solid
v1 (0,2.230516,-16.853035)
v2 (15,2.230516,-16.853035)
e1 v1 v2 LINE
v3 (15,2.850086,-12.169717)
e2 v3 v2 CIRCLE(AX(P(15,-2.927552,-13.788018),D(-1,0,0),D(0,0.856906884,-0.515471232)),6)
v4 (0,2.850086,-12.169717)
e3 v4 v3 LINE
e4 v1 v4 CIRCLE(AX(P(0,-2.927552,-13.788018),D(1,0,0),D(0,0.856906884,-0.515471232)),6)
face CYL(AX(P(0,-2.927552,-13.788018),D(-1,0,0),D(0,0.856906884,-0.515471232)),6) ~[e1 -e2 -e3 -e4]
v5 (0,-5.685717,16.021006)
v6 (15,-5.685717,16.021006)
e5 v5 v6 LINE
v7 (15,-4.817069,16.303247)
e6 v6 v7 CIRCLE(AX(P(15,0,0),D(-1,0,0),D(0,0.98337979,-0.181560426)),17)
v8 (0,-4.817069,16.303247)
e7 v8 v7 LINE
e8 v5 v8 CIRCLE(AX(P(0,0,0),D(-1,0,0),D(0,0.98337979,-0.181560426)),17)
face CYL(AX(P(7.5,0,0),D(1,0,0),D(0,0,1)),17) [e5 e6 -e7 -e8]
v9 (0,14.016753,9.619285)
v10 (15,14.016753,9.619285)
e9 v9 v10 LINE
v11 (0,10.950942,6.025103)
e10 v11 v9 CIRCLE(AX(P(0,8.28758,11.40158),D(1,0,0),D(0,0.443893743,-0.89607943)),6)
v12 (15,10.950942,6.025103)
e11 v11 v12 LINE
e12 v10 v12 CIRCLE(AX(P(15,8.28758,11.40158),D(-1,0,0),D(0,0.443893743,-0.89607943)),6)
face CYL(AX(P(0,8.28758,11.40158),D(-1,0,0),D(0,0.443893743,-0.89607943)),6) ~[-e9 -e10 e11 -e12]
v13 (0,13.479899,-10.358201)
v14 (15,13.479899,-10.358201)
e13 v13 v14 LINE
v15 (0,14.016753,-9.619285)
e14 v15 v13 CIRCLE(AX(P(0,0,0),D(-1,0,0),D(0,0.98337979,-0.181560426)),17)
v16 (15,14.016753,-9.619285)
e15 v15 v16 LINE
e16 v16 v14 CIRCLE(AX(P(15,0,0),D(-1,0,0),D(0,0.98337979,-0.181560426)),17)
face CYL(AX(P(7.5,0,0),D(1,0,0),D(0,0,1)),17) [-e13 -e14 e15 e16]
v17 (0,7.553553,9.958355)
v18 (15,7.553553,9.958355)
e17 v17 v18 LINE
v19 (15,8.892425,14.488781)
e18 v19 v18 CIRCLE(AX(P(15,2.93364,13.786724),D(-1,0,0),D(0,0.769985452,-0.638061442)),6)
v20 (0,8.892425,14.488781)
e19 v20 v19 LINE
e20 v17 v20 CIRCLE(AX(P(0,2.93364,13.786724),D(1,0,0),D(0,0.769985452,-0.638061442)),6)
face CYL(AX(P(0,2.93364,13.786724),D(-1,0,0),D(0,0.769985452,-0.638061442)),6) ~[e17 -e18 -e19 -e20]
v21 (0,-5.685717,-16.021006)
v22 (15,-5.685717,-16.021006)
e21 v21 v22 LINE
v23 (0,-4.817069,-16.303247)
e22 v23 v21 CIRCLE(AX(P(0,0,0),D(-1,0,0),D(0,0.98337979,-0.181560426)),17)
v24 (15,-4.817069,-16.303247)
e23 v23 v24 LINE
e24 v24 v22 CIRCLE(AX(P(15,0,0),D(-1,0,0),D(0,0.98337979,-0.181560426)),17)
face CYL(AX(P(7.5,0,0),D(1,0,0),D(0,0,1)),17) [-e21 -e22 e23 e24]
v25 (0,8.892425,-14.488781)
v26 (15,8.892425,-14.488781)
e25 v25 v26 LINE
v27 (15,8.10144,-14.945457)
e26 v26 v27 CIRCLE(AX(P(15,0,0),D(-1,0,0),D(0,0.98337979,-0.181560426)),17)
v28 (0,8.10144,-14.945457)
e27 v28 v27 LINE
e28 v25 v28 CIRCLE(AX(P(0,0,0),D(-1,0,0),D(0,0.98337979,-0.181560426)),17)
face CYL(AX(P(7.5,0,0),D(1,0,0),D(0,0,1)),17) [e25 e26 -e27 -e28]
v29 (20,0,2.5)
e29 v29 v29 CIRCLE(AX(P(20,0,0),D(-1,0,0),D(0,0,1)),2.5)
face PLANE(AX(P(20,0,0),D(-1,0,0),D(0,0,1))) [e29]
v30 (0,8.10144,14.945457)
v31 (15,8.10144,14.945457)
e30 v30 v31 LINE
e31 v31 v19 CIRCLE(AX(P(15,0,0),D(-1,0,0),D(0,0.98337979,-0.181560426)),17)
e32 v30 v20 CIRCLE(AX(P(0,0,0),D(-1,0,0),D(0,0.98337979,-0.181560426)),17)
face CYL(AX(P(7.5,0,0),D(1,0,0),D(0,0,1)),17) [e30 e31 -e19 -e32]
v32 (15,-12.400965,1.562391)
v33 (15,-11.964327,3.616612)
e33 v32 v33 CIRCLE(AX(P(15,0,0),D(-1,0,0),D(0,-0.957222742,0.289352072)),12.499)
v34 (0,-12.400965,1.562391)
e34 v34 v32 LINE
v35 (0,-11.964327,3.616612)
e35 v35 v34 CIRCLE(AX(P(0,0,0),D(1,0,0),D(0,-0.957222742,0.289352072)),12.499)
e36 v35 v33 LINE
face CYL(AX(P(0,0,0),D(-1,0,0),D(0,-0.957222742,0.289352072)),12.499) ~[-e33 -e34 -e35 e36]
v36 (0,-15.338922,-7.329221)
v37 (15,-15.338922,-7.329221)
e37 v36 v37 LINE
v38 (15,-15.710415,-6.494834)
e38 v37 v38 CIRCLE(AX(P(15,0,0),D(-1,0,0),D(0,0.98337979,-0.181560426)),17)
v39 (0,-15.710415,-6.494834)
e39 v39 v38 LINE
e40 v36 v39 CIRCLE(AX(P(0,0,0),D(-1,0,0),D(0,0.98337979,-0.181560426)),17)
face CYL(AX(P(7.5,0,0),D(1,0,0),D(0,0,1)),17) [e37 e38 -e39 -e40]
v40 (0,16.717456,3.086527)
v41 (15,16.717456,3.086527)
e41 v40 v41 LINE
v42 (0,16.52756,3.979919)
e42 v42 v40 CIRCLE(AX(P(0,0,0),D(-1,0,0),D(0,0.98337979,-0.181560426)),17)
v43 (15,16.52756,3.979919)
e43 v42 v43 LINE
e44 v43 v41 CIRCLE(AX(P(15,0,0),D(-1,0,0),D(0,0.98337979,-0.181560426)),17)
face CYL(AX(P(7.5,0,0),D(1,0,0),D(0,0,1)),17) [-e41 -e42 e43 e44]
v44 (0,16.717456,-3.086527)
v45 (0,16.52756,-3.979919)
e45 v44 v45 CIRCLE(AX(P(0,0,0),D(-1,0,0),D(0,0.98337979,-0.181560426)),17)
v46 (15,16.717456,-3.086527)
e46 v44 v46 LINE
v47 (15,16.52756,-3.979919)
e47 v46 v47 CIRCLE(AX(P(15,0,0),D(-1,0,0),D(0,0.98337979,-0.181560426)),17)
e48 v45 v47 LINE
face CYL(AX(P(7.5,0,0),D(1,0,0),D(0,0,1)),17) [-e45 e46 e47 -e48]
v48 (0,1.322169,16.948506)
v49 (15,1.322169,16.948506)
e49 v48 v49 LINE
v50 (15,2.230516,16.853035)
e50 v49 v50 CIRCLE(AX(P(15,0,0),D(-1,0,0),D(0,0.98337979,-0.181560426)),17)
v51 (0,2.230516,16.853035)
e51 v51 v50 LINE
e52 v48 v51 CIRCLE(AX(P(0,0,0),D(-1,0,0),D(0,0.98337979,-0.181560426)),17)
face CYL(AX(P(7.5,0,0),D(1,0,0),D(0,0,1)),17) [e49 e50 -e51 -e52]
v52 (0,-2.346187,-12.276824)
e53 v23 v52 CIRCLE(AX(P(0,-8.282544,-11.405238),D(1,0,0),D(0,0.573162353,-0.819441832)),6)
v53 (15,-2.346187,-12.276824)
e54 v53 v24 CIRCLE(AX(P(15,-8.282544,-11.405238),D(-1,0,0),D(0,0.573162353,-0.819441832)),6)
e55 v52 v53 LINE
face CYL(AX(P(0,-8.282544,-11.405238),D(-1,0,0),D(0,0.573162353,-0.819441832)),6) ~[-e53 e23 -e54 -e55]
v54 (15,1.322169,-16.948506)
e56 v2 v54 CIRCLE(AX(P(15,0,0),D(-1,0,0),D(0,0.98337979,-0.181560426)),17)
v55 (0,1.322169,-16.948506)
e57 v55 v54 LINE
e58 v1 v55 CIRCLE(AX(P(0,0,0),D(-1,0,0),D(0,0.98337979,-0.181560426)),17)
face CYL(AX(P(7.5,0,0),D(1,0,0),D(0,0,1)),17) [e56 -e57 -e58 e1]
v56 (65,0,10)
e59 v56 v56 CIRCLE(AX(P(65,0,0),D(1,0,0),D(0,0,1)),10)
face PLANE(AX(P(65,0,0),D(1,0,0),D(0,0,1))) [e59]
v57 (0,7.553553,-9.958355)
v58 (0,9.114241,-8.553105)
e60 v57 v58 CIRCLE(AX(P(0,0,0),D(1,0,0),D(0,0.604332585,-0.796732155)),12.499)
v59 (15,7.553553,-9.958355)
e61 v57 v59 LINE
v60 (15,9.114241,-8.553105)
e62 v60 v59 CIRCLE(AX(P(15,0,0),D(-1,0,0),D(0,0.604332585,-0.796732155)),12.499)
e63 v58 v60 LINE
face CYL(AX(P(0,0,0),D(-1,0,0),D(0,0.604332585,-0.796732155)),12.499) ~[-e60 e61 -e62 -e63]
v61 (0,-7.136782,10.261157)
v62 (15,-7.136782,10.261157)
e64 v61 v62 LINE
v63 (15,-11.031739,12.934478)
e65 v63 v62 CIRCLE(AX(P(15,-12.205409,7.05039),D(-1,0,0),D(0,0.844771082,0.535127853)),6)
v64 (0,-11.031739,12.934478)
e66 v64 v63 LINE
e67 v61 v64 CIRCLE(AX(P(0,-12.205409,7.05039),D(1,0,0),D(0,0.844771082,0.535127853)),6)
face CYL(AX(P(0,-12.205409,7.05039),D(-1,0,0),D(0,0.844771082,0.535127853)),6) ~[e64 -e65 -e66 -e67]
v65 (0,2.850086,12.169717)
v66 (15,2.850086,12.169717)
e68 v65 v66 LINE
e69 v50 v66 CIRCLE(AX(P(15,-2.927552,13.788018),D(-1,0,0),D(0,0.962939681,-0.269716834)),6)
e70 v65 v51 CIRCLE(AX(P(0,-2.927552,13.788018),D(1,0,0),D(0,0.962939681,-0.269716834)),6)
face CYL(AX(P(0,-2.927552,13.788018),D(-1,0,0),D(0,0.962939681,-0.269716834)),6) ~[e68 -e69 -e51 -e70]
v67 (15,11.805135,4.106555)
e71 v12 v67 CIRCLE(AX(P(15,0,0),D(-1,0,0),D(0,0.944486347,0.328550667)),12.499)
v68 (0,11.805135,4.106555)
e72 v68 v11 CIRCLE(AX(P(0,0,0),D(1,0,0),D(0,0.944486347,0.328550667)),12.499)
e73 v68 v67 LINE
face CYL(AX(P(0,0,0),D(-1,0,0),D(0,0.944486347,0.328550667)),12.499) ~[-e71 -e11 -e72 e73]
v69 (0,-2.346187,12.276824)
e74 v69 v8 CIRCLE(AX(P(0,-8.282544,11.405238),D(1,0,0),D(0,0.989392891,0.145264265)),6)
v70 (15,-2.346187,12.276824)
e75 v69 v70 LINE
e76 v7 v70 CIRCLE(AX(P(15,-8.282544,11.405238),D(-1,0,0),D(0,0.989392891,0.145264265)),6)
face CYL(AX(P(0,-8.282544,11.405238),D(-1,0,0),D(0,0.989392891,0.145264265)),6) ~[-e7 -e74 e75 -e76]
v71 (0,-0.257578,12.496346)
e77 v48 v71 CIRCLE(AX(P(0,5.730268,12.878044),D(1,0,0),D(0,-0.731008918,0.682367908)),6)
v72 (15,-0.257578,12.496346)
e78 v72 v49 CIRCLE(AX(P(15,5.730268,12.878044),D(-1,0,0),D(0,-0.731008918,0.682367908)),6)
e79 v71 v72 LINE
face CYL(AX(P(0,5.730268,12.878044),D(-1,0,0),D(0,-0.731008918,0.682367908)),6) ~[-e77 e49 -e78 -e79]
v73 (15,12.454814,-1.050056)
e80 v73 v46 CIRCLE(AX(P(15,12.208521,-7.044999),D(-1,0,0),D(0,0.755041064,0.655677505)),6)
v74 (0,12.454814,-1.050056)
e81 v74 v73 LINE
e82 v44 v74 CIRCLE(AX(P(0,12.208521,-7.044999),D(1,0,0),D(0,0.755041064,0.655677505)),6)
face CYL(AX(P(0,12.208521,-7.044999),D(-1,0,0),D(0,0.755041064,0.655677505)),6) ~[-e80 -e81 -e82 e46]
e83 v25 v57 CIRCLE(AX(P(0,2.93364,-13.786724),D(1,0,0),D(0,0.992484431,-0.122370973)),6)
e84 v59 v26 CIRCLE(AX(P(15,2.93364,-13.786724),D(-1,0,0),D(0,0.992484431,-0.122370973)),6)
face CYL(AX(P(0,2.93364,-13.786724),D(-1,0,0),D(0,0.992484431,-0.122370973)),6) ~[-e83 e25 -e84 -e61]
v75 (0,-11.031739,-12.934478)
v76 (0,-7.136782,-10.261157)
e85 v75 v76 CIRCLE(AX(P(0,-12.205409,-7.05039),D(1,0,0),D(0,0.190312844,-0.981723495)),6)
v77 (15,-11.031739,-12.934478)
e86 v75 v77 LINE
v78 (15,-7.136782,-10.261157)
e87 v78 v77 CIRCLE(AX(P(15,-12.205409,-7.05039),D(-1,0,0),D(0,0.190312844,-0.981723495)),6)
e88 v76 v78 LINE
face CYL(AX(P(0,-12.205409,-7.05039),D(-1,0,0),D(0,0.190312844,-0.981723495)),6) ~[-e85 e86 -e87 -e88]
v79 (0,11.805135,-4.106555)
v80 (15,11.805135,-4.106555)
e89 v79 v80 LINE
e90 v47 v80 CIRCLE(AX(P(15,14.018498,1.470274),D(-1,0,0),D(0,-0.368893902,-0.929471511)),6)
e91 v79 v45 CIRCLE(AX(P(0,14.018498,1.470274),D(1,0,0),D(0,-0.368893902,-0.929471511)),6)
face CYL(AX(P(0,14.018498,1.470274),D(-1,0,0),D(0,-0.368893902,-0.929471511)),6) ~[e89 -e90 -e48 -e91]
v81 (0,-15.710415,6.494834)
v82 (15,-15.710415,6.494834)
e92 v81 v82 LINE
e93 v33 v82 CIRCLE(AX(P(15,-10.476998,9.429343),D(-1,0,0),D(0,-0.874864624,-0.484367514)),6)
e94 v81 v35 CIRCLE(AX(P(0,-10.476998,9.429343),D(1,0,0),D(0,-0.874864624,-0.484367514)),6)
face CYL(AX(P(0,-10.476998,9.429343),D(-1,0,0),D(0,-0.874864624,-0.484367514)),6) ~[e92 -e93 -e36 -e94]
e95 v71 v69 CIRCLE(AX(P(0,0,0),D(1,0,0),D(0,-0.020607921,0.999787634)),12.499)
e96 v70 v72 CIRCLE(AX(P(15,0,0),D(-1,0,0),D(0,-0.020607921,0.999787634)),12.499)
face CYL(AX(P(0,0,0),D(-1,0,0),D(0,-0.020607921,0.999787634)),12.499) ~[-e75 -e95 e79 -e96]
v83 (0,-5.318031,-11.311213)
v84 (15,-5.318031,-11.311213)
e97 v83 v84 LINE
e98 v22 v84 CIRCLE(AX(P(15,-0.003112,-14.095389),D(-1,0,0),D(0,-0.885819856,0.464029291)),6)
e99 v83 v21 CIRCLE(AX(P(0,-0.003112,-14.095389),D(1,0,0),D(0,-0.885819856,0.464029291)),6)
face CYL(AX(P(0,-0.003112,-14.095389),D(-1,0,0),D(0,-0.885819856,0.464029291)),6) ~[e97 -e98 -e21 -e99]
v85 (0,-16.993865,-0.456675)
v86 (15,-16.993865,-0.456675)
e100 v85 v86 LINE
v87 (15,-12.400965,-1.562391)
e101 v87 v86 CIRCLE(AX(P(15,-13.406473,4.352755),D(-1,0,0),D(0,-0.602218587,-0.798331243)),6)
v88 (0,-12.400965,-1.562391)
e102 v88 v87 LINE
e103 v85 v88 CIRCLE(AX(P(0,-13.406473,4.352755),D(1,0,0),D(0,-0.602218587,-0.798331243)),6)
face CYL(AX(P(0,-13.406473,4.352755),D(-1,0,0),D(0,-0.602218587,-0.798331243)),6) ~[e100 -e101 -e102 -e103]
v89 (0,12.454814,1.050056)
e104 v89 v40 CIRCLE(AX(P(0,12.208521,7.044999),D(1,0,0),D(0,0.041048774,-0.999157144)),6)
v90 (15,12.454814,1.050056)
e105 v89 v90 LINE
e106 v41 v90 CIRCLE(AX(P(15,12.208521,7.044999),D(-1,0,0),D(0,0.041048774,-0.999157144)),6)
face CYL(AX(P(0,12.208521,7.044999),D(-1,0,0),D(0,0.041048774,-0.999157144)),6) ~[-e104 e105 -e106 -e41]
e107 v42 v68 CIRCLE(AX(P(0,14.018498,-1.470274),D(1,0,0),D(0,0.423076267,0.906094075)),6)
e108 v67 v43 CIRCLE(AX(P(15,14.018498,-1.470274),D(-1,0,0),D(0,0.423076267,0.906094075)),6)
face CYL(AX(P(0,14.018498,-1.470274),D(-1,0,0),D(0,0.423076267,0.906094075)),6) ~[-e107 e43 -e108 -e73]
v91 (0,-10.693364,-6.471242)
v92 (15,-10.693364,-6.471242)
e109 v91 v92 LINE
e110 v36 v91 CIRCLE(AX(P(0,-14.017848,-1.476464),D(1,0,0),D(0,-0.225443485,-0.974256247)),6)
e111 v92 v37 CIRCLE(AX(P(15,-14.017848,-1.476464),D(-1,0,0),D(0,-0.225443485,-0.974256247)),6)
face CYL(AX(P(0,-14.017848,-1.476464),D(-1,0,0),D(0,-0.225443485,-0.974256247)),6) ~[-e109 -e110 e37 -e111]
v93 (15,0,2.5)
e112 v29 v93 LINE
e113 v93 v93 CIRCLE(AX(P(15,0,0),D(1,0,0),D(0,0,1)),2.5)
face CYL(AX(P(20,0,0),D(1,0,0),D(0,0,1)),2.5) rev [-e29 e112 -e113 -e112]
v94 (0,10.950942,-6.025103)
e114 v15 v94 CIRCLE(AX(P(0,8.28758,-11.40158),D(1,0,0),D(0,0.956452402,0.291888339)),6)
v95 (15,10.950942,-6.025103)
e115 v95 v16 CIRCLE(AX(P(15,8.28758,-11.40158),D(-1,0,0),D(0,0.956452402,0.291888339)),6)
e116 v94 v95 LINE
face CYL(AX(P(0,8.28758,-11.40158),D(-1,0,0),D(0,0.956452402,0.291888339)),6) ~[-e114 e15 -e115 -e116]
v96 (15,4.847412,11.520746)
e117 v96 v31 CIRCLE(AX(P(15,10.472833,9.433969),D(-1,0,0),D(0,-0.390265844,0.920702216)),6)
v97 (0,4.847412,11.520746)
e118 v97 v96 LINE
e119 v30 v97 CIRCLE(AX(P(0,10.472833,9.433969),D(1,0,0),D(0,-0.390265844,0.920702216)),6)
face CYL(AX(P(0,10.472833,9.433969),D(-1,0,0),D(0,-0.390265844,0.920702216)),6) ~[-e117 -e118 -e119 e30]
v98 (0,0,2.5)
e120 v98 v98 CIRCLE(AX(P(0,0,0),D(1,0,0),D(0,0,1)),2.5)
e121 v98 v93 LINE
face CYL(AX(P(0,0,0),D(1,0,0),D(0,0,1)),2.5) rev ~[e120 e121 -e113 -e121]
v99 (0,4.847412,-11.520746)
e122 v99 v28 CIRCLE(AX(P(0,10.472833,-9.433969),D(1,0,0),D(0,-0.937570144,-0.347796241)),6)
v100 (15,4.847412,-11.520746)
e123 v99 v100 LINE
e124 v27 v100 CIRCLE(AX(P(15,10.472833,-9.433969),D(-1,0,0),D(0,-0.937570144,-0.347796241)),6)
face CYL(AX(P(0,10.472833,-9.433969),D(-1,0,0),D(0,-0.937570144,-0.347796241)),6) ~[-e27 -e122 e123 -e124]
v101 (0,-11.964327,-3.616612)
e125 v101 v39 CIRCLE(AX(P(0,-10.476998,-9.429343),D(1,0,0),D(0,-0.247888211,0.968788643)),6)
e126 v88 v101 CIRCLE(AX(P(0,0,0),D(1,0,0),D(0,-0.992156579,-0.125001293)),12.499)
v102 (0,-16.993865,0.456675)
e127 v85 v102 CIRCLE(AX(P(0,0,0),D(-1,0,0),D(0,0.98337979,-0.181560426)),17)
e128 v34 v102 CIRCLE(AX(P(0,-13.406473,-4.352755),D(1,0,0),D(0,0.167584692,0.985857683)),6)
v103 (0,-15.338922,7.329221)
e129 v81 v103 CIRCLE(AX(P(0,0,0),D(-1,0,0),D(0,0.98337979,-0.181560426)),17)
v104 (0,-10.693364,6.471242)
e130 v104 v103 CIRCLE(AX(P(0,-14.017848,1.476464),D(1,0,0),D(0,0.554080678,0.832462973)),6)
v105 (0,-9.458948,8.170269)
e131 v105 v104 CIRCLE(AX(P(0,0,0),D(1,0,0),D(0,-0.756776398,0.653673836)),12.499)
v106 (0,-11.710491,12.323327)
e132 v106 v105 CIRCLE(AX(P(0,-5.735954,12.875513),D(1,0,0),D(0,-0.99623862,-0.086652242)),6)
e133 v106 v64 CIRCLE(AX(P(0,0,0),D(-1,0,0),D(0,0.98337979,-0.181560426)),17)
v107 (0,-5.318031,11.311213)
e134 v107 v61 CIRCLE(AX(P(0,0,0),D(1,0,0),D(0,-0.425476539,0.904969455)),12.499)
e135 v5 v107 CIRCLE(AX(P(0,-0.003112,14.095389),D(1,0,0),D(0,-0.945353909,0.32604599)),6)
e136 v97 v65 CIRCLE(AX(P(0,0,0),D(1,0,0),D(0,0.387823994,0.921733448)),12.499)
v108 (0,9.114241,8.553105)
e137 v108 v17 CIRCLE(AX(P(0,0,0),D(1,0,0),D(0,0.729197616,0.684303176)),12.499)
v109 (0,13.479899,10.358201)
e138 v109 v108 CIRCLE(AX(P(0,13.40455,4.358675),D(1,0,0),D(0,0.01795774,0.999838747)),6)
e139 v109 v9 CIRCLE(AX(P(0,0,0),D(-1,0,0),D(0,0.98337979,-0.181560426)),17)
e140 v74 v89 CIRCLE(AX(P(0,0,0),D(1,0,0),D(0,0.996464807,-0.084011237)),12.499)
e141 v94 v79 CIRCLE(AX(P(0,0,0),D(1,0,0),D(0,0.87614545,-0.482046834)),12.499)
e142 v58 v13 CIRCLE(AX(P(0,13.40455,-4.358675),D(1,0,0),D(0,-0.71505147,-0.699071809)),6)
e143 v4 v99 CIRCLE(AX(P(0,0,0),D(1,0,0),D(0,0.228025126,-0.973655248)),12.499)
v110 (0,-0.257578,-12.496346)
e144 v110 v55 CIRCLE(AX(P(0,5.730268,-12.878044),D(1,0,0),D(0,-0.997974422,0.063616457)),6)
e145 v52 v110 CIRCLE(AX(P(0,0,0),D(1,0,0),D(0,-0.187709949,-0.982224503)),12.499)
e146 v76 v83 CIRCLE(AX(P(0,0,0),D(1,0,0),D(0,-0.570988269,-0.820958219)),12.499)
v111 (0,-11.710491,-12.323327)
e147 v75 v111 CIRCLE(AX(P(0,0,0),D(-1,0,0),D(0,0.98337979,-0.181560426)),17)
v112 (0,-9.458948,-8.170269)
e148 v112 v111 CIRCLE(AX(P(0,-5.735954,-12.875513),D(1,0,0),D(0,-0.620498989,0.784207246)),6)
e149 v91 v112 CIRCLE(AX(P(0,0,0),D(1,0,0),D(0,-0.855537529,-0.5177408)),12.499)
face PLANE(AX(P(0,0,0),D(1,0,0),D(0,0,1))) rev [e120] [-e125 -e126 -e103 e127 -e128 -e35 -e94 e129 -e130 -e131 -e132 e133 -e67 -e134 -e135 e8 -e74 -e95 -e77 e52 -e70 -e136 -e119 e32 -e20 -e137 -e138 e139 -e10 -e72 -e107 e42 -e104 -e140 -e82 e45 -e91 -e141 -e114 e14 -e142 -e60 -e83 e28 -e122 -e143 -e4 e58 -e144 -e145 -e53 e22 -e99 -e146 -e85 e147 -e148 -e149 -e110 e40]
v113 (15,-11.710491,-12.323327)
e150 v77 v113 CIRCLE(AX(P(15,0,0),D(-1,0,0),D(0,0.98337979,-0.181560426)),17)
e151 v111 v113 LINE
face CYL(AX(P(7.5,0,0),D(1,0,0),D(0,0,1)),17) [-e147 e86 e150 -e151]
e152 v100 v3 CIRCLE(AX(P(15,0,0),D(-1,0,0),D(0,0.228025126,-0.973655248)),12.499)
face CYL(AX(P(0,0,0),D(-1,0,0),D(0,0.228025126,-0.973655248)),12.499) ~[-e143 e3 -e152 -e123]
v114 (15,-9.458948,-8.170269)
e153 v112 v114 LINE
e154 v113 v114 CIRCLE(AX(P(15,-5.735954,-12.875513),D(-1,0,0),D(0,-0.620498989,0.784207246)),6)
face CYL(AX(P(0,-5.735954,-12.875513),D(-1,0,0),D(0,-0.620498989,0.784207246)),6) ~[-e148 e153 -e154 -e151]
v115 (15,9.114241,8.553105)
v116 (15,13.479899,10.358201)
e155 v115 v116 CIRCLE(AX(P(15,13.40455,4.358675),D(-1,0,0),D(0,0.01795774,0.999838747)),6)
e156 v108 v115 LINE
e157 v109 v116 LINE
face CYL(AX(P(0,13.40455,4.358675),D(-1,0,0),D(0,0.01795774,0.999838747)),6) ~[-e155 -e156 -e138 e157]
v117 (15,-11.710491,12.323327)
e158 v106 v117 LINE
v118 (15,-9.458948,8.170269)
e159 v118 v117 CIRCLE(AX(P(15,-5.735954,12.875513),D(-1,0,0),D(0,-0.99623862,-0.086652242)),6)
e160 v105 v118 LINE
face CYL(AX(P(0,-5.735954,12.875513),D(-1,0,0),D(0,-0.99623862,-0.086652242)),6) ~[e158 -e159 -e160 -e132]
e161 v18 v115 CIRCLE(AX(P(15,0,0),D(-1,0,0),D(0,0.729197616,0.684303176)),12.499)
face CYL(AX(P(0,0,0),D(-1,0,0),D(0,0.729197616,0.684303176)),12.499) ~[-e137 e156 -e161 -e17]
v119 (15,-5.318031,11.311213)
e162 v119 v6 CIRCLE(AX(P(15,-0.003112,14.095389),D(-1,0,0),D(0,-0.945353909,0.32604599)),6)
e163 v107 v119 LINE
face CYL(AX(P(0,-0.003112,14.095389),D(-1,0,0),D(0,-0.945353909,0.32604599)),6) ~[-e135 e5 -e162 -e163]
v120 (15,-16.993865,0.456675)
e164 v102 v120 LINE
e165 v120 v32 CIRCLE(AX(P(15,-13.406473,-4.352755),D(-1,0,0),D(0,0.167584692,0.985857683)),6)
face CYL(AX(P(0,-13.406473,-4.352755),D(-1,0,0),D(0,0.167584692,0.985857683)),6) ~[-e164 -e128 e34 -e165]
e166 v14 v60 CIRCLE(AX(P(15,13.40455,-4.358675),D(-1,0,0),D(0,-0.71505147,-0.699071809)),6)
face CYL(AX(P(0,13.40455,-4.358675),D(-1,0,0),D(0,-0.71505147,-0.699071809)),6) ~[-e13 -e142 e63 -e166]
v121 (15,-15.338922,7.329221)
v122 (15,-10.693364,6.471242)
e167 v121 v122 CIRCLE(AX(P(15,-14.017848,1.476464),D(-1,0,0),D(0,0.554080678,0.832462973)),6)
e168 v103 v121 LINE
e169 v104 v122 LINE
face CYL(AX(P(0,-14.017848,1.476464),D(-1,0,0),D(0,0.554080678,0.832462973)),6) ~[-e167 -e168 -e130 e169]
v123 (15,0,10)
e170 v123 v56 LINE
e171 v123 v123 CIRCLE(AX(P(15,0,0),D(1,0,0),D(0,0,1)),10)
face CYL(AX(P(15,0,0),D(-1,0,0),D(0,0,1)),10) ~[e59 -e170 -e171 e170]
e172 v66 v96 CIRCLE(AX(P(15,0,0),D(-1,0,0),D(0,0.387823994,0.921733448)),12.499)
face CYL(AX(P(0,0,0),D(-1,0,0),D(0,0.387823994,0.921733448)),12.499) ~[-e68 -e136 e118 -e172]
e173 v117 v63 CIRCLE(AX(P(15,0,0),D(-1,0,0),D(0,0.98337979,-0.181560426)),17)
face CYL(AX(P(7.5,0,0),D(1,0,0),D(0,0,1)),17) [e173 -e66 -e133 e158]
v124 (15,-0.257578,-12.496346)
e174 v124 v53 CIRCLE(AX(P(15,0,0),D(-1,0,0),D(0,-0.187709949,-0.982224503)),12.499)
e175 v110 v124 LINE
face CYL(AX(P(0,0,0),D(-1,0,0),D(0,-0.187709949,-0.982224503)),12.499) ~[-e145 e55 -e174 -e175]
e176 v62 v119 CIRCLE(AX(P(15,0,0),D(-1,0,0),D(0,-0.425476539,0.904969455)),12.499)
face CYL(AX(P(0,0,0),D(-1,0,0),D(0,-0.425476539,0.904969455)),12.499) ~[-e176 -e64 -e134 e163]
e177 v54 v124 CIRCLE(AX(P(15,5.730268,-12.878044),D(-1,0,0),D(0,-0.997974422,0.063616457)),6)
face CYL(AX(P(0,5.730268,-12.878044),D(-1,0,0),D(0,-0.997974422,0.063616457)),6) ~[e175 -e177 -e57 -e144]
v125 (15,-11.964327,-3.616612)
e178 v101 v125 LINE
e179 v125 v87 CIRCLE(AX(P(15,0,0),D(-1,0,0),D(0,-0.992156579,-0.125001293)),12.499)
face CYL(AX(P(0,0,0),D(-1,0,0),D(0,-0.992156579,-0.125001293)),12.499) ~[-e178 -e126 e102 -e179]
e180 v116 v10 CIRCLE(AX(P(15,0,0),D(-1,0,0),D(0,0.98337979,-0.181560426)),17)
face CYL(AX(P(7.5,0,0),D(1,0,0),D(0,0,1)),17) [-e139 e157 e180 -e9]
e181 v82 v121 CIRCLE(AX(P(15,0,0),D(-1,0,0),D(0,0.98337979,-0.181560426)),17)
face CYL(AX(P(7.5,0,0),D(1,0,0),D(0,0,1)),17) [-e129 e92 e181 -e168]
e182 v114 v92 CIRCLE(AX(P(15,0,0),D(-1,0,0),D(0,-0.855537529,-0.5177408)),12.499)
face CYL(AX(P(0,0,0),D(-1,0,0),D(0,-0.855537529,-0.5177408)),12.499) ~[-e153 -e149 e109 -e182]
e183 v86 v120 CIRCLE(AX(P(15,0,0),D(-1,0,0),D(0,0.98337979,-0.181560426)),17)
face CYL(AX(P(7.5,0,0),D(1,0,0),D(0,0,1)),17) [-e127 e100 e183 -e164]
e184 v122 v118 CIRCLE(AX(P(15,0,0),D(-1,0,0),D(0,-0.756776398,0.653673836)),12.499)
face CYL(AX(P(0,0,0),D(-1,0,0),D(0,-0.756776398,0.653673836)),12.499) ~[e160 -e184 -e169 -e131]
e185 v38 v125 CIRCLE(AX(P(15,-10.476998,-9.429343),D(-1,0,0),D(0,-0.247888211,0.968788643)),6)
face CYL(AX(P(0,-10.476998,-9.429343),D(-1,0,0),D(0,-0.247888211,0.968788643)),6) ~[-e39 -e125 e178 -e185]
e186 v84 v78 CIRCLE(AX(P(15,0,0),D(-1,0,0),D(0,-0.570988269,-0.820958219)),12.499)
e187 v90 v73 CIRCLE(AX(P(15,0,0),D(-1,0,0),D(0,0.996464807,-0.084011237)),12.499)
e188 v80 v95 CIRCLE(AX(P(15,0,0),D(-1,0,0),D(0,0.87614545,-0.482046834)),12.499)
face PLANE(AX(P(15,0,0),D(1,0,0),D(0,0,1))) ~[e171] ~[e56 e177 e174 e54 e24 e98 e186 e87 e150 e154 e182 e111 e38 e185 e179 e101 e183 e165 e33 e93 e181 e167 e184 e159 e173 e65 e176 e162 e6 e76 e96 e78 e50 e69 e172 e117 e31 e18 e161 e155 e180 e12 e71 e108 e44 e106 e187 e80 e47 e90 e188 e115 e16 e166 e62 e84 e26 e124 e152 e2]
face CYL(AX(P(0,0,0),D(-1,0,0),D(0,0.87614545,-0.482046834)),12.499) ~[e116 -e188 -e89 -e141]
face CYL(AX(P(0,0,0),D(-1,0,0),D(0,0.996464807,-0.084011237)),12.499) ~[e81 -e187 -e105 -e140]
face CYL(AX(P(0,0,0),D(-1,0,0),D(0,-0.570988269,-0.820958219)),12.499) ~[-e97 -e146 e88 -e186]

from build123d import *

# Parameters (mm, degrees)
BASPROSKE_W         = 15
BASPROSKE_H         = 17
TOOTHCUT_DEPTH      = 29.337254631
TEETHCUTS_COUNT     = 15
TEETHCUTS_ANGLE     = 336
BORSKE_R            = 2.5
BORE_DEPTH          = 50.0000508
SKETCH1_R           = 10
BOSS_EXTRUDE1_DEPTH = 50
CUT_EXTRUDE3_START  = -20
SKETCH2_R           = 2.5
CUT_EXTRUDE3_DEPTH  = 20


with BuildPart() as part:
    # BasProSke → Base-Revolve (revolve)
    with BuildSketch(Plane(origin=(0, 0, 0), x_dir=(1, 0, 0), z_dir=(0, 1, 0)), mode=Mode.PRIVATE) as base_revolve_sk:
        with Locations((7.5, 8.5)):
            Rectangle(BASPROSKE_W, BASPROSKE_H)
    revolve(base_revolve_sk.sketch.rotate(Axis((-10, 0, 0), (1, 0, 0)), 180), axis=Axis((-10, 0, 0), (1, 0, 0)))

    # TooCutSke → ToothCut (cut, through all)
    with BuildSketch(Plane(origin=(0, 0, 0), x_dir=(0, 0, -1), z_dir=(1, 0, 0))):
        with BuildLine():
            ThreePointArc((1.050056448, 12.454813626), (0, 12.499), (-1.050056448, 12.454813626))
            ThreePointArc((-1.050056448, 12.454813626), (-1.638118106, 14.809604533), (-3.110934279, 16.73876737))
            ThreePointArc((-3.110934279, 16.73876737), (0, 17.0254), (3.110934279, 16.73876737))
            ThreePointArc((3.110934279, 16.73876737), (1.638118106, 14.809604533), (1.050056448, 12.454813626))
        make_face()
    toothcut = extrude(amount=TOOTHCUT_DEPTH, mode=Mode.SUBTRACT)

    # TeethCuts: ToothCut ×15 about axis
    teethcuts_axis = Axis((-10, 0, 0), (1, 0, 0))
    for i in range(1, TEETHCUTS_COUNT):
        add(toothcut.rotate(teethcuts_axis, i * TEETHCUTS_ANGLE / (TEETHCUTS_COUNT - 1)), mode=Mode.SUBTRACT)

    # BorSke → Bore (cut, symmetric)
    with BuildSketch(Plane(origin=(0, 0, 0), x_dir=(0, 0, -1), z_dir=(1, 0, 0))):
        with Locations(Location((0, 0, 0), (0, 0, 180))):
            Circle(BORSKE_R)
    extrude(amount=BORE_DEPTH, both=True, mode=Mode.SUBTRACT)

    # Sketch1 → Boss-Extrude1 (add)
    with BuildSketch(Plane(origin=(15, 0, 0), x_dir=(0, 0, -1), z_dir=(1, 0, 0))):
        with Locations(Location((0, 0, 0), (0, 0, 180))):
            Circle(SKETCH1_R)
    extrude(amount=BOSS_EXTRUDE1_DEPTH)

    # Sketch2 → Cut-Extrude3 (cut)
    with BuildSketch(Plane.ZY.offset(CUT_EXTRUDE3_START)):
        Circle(SKETCH2_R)
    extrude(amount=CUT_EXTRUDE3_DEPTH, mode=Mode.SUBTRACT)


solid = part.part
